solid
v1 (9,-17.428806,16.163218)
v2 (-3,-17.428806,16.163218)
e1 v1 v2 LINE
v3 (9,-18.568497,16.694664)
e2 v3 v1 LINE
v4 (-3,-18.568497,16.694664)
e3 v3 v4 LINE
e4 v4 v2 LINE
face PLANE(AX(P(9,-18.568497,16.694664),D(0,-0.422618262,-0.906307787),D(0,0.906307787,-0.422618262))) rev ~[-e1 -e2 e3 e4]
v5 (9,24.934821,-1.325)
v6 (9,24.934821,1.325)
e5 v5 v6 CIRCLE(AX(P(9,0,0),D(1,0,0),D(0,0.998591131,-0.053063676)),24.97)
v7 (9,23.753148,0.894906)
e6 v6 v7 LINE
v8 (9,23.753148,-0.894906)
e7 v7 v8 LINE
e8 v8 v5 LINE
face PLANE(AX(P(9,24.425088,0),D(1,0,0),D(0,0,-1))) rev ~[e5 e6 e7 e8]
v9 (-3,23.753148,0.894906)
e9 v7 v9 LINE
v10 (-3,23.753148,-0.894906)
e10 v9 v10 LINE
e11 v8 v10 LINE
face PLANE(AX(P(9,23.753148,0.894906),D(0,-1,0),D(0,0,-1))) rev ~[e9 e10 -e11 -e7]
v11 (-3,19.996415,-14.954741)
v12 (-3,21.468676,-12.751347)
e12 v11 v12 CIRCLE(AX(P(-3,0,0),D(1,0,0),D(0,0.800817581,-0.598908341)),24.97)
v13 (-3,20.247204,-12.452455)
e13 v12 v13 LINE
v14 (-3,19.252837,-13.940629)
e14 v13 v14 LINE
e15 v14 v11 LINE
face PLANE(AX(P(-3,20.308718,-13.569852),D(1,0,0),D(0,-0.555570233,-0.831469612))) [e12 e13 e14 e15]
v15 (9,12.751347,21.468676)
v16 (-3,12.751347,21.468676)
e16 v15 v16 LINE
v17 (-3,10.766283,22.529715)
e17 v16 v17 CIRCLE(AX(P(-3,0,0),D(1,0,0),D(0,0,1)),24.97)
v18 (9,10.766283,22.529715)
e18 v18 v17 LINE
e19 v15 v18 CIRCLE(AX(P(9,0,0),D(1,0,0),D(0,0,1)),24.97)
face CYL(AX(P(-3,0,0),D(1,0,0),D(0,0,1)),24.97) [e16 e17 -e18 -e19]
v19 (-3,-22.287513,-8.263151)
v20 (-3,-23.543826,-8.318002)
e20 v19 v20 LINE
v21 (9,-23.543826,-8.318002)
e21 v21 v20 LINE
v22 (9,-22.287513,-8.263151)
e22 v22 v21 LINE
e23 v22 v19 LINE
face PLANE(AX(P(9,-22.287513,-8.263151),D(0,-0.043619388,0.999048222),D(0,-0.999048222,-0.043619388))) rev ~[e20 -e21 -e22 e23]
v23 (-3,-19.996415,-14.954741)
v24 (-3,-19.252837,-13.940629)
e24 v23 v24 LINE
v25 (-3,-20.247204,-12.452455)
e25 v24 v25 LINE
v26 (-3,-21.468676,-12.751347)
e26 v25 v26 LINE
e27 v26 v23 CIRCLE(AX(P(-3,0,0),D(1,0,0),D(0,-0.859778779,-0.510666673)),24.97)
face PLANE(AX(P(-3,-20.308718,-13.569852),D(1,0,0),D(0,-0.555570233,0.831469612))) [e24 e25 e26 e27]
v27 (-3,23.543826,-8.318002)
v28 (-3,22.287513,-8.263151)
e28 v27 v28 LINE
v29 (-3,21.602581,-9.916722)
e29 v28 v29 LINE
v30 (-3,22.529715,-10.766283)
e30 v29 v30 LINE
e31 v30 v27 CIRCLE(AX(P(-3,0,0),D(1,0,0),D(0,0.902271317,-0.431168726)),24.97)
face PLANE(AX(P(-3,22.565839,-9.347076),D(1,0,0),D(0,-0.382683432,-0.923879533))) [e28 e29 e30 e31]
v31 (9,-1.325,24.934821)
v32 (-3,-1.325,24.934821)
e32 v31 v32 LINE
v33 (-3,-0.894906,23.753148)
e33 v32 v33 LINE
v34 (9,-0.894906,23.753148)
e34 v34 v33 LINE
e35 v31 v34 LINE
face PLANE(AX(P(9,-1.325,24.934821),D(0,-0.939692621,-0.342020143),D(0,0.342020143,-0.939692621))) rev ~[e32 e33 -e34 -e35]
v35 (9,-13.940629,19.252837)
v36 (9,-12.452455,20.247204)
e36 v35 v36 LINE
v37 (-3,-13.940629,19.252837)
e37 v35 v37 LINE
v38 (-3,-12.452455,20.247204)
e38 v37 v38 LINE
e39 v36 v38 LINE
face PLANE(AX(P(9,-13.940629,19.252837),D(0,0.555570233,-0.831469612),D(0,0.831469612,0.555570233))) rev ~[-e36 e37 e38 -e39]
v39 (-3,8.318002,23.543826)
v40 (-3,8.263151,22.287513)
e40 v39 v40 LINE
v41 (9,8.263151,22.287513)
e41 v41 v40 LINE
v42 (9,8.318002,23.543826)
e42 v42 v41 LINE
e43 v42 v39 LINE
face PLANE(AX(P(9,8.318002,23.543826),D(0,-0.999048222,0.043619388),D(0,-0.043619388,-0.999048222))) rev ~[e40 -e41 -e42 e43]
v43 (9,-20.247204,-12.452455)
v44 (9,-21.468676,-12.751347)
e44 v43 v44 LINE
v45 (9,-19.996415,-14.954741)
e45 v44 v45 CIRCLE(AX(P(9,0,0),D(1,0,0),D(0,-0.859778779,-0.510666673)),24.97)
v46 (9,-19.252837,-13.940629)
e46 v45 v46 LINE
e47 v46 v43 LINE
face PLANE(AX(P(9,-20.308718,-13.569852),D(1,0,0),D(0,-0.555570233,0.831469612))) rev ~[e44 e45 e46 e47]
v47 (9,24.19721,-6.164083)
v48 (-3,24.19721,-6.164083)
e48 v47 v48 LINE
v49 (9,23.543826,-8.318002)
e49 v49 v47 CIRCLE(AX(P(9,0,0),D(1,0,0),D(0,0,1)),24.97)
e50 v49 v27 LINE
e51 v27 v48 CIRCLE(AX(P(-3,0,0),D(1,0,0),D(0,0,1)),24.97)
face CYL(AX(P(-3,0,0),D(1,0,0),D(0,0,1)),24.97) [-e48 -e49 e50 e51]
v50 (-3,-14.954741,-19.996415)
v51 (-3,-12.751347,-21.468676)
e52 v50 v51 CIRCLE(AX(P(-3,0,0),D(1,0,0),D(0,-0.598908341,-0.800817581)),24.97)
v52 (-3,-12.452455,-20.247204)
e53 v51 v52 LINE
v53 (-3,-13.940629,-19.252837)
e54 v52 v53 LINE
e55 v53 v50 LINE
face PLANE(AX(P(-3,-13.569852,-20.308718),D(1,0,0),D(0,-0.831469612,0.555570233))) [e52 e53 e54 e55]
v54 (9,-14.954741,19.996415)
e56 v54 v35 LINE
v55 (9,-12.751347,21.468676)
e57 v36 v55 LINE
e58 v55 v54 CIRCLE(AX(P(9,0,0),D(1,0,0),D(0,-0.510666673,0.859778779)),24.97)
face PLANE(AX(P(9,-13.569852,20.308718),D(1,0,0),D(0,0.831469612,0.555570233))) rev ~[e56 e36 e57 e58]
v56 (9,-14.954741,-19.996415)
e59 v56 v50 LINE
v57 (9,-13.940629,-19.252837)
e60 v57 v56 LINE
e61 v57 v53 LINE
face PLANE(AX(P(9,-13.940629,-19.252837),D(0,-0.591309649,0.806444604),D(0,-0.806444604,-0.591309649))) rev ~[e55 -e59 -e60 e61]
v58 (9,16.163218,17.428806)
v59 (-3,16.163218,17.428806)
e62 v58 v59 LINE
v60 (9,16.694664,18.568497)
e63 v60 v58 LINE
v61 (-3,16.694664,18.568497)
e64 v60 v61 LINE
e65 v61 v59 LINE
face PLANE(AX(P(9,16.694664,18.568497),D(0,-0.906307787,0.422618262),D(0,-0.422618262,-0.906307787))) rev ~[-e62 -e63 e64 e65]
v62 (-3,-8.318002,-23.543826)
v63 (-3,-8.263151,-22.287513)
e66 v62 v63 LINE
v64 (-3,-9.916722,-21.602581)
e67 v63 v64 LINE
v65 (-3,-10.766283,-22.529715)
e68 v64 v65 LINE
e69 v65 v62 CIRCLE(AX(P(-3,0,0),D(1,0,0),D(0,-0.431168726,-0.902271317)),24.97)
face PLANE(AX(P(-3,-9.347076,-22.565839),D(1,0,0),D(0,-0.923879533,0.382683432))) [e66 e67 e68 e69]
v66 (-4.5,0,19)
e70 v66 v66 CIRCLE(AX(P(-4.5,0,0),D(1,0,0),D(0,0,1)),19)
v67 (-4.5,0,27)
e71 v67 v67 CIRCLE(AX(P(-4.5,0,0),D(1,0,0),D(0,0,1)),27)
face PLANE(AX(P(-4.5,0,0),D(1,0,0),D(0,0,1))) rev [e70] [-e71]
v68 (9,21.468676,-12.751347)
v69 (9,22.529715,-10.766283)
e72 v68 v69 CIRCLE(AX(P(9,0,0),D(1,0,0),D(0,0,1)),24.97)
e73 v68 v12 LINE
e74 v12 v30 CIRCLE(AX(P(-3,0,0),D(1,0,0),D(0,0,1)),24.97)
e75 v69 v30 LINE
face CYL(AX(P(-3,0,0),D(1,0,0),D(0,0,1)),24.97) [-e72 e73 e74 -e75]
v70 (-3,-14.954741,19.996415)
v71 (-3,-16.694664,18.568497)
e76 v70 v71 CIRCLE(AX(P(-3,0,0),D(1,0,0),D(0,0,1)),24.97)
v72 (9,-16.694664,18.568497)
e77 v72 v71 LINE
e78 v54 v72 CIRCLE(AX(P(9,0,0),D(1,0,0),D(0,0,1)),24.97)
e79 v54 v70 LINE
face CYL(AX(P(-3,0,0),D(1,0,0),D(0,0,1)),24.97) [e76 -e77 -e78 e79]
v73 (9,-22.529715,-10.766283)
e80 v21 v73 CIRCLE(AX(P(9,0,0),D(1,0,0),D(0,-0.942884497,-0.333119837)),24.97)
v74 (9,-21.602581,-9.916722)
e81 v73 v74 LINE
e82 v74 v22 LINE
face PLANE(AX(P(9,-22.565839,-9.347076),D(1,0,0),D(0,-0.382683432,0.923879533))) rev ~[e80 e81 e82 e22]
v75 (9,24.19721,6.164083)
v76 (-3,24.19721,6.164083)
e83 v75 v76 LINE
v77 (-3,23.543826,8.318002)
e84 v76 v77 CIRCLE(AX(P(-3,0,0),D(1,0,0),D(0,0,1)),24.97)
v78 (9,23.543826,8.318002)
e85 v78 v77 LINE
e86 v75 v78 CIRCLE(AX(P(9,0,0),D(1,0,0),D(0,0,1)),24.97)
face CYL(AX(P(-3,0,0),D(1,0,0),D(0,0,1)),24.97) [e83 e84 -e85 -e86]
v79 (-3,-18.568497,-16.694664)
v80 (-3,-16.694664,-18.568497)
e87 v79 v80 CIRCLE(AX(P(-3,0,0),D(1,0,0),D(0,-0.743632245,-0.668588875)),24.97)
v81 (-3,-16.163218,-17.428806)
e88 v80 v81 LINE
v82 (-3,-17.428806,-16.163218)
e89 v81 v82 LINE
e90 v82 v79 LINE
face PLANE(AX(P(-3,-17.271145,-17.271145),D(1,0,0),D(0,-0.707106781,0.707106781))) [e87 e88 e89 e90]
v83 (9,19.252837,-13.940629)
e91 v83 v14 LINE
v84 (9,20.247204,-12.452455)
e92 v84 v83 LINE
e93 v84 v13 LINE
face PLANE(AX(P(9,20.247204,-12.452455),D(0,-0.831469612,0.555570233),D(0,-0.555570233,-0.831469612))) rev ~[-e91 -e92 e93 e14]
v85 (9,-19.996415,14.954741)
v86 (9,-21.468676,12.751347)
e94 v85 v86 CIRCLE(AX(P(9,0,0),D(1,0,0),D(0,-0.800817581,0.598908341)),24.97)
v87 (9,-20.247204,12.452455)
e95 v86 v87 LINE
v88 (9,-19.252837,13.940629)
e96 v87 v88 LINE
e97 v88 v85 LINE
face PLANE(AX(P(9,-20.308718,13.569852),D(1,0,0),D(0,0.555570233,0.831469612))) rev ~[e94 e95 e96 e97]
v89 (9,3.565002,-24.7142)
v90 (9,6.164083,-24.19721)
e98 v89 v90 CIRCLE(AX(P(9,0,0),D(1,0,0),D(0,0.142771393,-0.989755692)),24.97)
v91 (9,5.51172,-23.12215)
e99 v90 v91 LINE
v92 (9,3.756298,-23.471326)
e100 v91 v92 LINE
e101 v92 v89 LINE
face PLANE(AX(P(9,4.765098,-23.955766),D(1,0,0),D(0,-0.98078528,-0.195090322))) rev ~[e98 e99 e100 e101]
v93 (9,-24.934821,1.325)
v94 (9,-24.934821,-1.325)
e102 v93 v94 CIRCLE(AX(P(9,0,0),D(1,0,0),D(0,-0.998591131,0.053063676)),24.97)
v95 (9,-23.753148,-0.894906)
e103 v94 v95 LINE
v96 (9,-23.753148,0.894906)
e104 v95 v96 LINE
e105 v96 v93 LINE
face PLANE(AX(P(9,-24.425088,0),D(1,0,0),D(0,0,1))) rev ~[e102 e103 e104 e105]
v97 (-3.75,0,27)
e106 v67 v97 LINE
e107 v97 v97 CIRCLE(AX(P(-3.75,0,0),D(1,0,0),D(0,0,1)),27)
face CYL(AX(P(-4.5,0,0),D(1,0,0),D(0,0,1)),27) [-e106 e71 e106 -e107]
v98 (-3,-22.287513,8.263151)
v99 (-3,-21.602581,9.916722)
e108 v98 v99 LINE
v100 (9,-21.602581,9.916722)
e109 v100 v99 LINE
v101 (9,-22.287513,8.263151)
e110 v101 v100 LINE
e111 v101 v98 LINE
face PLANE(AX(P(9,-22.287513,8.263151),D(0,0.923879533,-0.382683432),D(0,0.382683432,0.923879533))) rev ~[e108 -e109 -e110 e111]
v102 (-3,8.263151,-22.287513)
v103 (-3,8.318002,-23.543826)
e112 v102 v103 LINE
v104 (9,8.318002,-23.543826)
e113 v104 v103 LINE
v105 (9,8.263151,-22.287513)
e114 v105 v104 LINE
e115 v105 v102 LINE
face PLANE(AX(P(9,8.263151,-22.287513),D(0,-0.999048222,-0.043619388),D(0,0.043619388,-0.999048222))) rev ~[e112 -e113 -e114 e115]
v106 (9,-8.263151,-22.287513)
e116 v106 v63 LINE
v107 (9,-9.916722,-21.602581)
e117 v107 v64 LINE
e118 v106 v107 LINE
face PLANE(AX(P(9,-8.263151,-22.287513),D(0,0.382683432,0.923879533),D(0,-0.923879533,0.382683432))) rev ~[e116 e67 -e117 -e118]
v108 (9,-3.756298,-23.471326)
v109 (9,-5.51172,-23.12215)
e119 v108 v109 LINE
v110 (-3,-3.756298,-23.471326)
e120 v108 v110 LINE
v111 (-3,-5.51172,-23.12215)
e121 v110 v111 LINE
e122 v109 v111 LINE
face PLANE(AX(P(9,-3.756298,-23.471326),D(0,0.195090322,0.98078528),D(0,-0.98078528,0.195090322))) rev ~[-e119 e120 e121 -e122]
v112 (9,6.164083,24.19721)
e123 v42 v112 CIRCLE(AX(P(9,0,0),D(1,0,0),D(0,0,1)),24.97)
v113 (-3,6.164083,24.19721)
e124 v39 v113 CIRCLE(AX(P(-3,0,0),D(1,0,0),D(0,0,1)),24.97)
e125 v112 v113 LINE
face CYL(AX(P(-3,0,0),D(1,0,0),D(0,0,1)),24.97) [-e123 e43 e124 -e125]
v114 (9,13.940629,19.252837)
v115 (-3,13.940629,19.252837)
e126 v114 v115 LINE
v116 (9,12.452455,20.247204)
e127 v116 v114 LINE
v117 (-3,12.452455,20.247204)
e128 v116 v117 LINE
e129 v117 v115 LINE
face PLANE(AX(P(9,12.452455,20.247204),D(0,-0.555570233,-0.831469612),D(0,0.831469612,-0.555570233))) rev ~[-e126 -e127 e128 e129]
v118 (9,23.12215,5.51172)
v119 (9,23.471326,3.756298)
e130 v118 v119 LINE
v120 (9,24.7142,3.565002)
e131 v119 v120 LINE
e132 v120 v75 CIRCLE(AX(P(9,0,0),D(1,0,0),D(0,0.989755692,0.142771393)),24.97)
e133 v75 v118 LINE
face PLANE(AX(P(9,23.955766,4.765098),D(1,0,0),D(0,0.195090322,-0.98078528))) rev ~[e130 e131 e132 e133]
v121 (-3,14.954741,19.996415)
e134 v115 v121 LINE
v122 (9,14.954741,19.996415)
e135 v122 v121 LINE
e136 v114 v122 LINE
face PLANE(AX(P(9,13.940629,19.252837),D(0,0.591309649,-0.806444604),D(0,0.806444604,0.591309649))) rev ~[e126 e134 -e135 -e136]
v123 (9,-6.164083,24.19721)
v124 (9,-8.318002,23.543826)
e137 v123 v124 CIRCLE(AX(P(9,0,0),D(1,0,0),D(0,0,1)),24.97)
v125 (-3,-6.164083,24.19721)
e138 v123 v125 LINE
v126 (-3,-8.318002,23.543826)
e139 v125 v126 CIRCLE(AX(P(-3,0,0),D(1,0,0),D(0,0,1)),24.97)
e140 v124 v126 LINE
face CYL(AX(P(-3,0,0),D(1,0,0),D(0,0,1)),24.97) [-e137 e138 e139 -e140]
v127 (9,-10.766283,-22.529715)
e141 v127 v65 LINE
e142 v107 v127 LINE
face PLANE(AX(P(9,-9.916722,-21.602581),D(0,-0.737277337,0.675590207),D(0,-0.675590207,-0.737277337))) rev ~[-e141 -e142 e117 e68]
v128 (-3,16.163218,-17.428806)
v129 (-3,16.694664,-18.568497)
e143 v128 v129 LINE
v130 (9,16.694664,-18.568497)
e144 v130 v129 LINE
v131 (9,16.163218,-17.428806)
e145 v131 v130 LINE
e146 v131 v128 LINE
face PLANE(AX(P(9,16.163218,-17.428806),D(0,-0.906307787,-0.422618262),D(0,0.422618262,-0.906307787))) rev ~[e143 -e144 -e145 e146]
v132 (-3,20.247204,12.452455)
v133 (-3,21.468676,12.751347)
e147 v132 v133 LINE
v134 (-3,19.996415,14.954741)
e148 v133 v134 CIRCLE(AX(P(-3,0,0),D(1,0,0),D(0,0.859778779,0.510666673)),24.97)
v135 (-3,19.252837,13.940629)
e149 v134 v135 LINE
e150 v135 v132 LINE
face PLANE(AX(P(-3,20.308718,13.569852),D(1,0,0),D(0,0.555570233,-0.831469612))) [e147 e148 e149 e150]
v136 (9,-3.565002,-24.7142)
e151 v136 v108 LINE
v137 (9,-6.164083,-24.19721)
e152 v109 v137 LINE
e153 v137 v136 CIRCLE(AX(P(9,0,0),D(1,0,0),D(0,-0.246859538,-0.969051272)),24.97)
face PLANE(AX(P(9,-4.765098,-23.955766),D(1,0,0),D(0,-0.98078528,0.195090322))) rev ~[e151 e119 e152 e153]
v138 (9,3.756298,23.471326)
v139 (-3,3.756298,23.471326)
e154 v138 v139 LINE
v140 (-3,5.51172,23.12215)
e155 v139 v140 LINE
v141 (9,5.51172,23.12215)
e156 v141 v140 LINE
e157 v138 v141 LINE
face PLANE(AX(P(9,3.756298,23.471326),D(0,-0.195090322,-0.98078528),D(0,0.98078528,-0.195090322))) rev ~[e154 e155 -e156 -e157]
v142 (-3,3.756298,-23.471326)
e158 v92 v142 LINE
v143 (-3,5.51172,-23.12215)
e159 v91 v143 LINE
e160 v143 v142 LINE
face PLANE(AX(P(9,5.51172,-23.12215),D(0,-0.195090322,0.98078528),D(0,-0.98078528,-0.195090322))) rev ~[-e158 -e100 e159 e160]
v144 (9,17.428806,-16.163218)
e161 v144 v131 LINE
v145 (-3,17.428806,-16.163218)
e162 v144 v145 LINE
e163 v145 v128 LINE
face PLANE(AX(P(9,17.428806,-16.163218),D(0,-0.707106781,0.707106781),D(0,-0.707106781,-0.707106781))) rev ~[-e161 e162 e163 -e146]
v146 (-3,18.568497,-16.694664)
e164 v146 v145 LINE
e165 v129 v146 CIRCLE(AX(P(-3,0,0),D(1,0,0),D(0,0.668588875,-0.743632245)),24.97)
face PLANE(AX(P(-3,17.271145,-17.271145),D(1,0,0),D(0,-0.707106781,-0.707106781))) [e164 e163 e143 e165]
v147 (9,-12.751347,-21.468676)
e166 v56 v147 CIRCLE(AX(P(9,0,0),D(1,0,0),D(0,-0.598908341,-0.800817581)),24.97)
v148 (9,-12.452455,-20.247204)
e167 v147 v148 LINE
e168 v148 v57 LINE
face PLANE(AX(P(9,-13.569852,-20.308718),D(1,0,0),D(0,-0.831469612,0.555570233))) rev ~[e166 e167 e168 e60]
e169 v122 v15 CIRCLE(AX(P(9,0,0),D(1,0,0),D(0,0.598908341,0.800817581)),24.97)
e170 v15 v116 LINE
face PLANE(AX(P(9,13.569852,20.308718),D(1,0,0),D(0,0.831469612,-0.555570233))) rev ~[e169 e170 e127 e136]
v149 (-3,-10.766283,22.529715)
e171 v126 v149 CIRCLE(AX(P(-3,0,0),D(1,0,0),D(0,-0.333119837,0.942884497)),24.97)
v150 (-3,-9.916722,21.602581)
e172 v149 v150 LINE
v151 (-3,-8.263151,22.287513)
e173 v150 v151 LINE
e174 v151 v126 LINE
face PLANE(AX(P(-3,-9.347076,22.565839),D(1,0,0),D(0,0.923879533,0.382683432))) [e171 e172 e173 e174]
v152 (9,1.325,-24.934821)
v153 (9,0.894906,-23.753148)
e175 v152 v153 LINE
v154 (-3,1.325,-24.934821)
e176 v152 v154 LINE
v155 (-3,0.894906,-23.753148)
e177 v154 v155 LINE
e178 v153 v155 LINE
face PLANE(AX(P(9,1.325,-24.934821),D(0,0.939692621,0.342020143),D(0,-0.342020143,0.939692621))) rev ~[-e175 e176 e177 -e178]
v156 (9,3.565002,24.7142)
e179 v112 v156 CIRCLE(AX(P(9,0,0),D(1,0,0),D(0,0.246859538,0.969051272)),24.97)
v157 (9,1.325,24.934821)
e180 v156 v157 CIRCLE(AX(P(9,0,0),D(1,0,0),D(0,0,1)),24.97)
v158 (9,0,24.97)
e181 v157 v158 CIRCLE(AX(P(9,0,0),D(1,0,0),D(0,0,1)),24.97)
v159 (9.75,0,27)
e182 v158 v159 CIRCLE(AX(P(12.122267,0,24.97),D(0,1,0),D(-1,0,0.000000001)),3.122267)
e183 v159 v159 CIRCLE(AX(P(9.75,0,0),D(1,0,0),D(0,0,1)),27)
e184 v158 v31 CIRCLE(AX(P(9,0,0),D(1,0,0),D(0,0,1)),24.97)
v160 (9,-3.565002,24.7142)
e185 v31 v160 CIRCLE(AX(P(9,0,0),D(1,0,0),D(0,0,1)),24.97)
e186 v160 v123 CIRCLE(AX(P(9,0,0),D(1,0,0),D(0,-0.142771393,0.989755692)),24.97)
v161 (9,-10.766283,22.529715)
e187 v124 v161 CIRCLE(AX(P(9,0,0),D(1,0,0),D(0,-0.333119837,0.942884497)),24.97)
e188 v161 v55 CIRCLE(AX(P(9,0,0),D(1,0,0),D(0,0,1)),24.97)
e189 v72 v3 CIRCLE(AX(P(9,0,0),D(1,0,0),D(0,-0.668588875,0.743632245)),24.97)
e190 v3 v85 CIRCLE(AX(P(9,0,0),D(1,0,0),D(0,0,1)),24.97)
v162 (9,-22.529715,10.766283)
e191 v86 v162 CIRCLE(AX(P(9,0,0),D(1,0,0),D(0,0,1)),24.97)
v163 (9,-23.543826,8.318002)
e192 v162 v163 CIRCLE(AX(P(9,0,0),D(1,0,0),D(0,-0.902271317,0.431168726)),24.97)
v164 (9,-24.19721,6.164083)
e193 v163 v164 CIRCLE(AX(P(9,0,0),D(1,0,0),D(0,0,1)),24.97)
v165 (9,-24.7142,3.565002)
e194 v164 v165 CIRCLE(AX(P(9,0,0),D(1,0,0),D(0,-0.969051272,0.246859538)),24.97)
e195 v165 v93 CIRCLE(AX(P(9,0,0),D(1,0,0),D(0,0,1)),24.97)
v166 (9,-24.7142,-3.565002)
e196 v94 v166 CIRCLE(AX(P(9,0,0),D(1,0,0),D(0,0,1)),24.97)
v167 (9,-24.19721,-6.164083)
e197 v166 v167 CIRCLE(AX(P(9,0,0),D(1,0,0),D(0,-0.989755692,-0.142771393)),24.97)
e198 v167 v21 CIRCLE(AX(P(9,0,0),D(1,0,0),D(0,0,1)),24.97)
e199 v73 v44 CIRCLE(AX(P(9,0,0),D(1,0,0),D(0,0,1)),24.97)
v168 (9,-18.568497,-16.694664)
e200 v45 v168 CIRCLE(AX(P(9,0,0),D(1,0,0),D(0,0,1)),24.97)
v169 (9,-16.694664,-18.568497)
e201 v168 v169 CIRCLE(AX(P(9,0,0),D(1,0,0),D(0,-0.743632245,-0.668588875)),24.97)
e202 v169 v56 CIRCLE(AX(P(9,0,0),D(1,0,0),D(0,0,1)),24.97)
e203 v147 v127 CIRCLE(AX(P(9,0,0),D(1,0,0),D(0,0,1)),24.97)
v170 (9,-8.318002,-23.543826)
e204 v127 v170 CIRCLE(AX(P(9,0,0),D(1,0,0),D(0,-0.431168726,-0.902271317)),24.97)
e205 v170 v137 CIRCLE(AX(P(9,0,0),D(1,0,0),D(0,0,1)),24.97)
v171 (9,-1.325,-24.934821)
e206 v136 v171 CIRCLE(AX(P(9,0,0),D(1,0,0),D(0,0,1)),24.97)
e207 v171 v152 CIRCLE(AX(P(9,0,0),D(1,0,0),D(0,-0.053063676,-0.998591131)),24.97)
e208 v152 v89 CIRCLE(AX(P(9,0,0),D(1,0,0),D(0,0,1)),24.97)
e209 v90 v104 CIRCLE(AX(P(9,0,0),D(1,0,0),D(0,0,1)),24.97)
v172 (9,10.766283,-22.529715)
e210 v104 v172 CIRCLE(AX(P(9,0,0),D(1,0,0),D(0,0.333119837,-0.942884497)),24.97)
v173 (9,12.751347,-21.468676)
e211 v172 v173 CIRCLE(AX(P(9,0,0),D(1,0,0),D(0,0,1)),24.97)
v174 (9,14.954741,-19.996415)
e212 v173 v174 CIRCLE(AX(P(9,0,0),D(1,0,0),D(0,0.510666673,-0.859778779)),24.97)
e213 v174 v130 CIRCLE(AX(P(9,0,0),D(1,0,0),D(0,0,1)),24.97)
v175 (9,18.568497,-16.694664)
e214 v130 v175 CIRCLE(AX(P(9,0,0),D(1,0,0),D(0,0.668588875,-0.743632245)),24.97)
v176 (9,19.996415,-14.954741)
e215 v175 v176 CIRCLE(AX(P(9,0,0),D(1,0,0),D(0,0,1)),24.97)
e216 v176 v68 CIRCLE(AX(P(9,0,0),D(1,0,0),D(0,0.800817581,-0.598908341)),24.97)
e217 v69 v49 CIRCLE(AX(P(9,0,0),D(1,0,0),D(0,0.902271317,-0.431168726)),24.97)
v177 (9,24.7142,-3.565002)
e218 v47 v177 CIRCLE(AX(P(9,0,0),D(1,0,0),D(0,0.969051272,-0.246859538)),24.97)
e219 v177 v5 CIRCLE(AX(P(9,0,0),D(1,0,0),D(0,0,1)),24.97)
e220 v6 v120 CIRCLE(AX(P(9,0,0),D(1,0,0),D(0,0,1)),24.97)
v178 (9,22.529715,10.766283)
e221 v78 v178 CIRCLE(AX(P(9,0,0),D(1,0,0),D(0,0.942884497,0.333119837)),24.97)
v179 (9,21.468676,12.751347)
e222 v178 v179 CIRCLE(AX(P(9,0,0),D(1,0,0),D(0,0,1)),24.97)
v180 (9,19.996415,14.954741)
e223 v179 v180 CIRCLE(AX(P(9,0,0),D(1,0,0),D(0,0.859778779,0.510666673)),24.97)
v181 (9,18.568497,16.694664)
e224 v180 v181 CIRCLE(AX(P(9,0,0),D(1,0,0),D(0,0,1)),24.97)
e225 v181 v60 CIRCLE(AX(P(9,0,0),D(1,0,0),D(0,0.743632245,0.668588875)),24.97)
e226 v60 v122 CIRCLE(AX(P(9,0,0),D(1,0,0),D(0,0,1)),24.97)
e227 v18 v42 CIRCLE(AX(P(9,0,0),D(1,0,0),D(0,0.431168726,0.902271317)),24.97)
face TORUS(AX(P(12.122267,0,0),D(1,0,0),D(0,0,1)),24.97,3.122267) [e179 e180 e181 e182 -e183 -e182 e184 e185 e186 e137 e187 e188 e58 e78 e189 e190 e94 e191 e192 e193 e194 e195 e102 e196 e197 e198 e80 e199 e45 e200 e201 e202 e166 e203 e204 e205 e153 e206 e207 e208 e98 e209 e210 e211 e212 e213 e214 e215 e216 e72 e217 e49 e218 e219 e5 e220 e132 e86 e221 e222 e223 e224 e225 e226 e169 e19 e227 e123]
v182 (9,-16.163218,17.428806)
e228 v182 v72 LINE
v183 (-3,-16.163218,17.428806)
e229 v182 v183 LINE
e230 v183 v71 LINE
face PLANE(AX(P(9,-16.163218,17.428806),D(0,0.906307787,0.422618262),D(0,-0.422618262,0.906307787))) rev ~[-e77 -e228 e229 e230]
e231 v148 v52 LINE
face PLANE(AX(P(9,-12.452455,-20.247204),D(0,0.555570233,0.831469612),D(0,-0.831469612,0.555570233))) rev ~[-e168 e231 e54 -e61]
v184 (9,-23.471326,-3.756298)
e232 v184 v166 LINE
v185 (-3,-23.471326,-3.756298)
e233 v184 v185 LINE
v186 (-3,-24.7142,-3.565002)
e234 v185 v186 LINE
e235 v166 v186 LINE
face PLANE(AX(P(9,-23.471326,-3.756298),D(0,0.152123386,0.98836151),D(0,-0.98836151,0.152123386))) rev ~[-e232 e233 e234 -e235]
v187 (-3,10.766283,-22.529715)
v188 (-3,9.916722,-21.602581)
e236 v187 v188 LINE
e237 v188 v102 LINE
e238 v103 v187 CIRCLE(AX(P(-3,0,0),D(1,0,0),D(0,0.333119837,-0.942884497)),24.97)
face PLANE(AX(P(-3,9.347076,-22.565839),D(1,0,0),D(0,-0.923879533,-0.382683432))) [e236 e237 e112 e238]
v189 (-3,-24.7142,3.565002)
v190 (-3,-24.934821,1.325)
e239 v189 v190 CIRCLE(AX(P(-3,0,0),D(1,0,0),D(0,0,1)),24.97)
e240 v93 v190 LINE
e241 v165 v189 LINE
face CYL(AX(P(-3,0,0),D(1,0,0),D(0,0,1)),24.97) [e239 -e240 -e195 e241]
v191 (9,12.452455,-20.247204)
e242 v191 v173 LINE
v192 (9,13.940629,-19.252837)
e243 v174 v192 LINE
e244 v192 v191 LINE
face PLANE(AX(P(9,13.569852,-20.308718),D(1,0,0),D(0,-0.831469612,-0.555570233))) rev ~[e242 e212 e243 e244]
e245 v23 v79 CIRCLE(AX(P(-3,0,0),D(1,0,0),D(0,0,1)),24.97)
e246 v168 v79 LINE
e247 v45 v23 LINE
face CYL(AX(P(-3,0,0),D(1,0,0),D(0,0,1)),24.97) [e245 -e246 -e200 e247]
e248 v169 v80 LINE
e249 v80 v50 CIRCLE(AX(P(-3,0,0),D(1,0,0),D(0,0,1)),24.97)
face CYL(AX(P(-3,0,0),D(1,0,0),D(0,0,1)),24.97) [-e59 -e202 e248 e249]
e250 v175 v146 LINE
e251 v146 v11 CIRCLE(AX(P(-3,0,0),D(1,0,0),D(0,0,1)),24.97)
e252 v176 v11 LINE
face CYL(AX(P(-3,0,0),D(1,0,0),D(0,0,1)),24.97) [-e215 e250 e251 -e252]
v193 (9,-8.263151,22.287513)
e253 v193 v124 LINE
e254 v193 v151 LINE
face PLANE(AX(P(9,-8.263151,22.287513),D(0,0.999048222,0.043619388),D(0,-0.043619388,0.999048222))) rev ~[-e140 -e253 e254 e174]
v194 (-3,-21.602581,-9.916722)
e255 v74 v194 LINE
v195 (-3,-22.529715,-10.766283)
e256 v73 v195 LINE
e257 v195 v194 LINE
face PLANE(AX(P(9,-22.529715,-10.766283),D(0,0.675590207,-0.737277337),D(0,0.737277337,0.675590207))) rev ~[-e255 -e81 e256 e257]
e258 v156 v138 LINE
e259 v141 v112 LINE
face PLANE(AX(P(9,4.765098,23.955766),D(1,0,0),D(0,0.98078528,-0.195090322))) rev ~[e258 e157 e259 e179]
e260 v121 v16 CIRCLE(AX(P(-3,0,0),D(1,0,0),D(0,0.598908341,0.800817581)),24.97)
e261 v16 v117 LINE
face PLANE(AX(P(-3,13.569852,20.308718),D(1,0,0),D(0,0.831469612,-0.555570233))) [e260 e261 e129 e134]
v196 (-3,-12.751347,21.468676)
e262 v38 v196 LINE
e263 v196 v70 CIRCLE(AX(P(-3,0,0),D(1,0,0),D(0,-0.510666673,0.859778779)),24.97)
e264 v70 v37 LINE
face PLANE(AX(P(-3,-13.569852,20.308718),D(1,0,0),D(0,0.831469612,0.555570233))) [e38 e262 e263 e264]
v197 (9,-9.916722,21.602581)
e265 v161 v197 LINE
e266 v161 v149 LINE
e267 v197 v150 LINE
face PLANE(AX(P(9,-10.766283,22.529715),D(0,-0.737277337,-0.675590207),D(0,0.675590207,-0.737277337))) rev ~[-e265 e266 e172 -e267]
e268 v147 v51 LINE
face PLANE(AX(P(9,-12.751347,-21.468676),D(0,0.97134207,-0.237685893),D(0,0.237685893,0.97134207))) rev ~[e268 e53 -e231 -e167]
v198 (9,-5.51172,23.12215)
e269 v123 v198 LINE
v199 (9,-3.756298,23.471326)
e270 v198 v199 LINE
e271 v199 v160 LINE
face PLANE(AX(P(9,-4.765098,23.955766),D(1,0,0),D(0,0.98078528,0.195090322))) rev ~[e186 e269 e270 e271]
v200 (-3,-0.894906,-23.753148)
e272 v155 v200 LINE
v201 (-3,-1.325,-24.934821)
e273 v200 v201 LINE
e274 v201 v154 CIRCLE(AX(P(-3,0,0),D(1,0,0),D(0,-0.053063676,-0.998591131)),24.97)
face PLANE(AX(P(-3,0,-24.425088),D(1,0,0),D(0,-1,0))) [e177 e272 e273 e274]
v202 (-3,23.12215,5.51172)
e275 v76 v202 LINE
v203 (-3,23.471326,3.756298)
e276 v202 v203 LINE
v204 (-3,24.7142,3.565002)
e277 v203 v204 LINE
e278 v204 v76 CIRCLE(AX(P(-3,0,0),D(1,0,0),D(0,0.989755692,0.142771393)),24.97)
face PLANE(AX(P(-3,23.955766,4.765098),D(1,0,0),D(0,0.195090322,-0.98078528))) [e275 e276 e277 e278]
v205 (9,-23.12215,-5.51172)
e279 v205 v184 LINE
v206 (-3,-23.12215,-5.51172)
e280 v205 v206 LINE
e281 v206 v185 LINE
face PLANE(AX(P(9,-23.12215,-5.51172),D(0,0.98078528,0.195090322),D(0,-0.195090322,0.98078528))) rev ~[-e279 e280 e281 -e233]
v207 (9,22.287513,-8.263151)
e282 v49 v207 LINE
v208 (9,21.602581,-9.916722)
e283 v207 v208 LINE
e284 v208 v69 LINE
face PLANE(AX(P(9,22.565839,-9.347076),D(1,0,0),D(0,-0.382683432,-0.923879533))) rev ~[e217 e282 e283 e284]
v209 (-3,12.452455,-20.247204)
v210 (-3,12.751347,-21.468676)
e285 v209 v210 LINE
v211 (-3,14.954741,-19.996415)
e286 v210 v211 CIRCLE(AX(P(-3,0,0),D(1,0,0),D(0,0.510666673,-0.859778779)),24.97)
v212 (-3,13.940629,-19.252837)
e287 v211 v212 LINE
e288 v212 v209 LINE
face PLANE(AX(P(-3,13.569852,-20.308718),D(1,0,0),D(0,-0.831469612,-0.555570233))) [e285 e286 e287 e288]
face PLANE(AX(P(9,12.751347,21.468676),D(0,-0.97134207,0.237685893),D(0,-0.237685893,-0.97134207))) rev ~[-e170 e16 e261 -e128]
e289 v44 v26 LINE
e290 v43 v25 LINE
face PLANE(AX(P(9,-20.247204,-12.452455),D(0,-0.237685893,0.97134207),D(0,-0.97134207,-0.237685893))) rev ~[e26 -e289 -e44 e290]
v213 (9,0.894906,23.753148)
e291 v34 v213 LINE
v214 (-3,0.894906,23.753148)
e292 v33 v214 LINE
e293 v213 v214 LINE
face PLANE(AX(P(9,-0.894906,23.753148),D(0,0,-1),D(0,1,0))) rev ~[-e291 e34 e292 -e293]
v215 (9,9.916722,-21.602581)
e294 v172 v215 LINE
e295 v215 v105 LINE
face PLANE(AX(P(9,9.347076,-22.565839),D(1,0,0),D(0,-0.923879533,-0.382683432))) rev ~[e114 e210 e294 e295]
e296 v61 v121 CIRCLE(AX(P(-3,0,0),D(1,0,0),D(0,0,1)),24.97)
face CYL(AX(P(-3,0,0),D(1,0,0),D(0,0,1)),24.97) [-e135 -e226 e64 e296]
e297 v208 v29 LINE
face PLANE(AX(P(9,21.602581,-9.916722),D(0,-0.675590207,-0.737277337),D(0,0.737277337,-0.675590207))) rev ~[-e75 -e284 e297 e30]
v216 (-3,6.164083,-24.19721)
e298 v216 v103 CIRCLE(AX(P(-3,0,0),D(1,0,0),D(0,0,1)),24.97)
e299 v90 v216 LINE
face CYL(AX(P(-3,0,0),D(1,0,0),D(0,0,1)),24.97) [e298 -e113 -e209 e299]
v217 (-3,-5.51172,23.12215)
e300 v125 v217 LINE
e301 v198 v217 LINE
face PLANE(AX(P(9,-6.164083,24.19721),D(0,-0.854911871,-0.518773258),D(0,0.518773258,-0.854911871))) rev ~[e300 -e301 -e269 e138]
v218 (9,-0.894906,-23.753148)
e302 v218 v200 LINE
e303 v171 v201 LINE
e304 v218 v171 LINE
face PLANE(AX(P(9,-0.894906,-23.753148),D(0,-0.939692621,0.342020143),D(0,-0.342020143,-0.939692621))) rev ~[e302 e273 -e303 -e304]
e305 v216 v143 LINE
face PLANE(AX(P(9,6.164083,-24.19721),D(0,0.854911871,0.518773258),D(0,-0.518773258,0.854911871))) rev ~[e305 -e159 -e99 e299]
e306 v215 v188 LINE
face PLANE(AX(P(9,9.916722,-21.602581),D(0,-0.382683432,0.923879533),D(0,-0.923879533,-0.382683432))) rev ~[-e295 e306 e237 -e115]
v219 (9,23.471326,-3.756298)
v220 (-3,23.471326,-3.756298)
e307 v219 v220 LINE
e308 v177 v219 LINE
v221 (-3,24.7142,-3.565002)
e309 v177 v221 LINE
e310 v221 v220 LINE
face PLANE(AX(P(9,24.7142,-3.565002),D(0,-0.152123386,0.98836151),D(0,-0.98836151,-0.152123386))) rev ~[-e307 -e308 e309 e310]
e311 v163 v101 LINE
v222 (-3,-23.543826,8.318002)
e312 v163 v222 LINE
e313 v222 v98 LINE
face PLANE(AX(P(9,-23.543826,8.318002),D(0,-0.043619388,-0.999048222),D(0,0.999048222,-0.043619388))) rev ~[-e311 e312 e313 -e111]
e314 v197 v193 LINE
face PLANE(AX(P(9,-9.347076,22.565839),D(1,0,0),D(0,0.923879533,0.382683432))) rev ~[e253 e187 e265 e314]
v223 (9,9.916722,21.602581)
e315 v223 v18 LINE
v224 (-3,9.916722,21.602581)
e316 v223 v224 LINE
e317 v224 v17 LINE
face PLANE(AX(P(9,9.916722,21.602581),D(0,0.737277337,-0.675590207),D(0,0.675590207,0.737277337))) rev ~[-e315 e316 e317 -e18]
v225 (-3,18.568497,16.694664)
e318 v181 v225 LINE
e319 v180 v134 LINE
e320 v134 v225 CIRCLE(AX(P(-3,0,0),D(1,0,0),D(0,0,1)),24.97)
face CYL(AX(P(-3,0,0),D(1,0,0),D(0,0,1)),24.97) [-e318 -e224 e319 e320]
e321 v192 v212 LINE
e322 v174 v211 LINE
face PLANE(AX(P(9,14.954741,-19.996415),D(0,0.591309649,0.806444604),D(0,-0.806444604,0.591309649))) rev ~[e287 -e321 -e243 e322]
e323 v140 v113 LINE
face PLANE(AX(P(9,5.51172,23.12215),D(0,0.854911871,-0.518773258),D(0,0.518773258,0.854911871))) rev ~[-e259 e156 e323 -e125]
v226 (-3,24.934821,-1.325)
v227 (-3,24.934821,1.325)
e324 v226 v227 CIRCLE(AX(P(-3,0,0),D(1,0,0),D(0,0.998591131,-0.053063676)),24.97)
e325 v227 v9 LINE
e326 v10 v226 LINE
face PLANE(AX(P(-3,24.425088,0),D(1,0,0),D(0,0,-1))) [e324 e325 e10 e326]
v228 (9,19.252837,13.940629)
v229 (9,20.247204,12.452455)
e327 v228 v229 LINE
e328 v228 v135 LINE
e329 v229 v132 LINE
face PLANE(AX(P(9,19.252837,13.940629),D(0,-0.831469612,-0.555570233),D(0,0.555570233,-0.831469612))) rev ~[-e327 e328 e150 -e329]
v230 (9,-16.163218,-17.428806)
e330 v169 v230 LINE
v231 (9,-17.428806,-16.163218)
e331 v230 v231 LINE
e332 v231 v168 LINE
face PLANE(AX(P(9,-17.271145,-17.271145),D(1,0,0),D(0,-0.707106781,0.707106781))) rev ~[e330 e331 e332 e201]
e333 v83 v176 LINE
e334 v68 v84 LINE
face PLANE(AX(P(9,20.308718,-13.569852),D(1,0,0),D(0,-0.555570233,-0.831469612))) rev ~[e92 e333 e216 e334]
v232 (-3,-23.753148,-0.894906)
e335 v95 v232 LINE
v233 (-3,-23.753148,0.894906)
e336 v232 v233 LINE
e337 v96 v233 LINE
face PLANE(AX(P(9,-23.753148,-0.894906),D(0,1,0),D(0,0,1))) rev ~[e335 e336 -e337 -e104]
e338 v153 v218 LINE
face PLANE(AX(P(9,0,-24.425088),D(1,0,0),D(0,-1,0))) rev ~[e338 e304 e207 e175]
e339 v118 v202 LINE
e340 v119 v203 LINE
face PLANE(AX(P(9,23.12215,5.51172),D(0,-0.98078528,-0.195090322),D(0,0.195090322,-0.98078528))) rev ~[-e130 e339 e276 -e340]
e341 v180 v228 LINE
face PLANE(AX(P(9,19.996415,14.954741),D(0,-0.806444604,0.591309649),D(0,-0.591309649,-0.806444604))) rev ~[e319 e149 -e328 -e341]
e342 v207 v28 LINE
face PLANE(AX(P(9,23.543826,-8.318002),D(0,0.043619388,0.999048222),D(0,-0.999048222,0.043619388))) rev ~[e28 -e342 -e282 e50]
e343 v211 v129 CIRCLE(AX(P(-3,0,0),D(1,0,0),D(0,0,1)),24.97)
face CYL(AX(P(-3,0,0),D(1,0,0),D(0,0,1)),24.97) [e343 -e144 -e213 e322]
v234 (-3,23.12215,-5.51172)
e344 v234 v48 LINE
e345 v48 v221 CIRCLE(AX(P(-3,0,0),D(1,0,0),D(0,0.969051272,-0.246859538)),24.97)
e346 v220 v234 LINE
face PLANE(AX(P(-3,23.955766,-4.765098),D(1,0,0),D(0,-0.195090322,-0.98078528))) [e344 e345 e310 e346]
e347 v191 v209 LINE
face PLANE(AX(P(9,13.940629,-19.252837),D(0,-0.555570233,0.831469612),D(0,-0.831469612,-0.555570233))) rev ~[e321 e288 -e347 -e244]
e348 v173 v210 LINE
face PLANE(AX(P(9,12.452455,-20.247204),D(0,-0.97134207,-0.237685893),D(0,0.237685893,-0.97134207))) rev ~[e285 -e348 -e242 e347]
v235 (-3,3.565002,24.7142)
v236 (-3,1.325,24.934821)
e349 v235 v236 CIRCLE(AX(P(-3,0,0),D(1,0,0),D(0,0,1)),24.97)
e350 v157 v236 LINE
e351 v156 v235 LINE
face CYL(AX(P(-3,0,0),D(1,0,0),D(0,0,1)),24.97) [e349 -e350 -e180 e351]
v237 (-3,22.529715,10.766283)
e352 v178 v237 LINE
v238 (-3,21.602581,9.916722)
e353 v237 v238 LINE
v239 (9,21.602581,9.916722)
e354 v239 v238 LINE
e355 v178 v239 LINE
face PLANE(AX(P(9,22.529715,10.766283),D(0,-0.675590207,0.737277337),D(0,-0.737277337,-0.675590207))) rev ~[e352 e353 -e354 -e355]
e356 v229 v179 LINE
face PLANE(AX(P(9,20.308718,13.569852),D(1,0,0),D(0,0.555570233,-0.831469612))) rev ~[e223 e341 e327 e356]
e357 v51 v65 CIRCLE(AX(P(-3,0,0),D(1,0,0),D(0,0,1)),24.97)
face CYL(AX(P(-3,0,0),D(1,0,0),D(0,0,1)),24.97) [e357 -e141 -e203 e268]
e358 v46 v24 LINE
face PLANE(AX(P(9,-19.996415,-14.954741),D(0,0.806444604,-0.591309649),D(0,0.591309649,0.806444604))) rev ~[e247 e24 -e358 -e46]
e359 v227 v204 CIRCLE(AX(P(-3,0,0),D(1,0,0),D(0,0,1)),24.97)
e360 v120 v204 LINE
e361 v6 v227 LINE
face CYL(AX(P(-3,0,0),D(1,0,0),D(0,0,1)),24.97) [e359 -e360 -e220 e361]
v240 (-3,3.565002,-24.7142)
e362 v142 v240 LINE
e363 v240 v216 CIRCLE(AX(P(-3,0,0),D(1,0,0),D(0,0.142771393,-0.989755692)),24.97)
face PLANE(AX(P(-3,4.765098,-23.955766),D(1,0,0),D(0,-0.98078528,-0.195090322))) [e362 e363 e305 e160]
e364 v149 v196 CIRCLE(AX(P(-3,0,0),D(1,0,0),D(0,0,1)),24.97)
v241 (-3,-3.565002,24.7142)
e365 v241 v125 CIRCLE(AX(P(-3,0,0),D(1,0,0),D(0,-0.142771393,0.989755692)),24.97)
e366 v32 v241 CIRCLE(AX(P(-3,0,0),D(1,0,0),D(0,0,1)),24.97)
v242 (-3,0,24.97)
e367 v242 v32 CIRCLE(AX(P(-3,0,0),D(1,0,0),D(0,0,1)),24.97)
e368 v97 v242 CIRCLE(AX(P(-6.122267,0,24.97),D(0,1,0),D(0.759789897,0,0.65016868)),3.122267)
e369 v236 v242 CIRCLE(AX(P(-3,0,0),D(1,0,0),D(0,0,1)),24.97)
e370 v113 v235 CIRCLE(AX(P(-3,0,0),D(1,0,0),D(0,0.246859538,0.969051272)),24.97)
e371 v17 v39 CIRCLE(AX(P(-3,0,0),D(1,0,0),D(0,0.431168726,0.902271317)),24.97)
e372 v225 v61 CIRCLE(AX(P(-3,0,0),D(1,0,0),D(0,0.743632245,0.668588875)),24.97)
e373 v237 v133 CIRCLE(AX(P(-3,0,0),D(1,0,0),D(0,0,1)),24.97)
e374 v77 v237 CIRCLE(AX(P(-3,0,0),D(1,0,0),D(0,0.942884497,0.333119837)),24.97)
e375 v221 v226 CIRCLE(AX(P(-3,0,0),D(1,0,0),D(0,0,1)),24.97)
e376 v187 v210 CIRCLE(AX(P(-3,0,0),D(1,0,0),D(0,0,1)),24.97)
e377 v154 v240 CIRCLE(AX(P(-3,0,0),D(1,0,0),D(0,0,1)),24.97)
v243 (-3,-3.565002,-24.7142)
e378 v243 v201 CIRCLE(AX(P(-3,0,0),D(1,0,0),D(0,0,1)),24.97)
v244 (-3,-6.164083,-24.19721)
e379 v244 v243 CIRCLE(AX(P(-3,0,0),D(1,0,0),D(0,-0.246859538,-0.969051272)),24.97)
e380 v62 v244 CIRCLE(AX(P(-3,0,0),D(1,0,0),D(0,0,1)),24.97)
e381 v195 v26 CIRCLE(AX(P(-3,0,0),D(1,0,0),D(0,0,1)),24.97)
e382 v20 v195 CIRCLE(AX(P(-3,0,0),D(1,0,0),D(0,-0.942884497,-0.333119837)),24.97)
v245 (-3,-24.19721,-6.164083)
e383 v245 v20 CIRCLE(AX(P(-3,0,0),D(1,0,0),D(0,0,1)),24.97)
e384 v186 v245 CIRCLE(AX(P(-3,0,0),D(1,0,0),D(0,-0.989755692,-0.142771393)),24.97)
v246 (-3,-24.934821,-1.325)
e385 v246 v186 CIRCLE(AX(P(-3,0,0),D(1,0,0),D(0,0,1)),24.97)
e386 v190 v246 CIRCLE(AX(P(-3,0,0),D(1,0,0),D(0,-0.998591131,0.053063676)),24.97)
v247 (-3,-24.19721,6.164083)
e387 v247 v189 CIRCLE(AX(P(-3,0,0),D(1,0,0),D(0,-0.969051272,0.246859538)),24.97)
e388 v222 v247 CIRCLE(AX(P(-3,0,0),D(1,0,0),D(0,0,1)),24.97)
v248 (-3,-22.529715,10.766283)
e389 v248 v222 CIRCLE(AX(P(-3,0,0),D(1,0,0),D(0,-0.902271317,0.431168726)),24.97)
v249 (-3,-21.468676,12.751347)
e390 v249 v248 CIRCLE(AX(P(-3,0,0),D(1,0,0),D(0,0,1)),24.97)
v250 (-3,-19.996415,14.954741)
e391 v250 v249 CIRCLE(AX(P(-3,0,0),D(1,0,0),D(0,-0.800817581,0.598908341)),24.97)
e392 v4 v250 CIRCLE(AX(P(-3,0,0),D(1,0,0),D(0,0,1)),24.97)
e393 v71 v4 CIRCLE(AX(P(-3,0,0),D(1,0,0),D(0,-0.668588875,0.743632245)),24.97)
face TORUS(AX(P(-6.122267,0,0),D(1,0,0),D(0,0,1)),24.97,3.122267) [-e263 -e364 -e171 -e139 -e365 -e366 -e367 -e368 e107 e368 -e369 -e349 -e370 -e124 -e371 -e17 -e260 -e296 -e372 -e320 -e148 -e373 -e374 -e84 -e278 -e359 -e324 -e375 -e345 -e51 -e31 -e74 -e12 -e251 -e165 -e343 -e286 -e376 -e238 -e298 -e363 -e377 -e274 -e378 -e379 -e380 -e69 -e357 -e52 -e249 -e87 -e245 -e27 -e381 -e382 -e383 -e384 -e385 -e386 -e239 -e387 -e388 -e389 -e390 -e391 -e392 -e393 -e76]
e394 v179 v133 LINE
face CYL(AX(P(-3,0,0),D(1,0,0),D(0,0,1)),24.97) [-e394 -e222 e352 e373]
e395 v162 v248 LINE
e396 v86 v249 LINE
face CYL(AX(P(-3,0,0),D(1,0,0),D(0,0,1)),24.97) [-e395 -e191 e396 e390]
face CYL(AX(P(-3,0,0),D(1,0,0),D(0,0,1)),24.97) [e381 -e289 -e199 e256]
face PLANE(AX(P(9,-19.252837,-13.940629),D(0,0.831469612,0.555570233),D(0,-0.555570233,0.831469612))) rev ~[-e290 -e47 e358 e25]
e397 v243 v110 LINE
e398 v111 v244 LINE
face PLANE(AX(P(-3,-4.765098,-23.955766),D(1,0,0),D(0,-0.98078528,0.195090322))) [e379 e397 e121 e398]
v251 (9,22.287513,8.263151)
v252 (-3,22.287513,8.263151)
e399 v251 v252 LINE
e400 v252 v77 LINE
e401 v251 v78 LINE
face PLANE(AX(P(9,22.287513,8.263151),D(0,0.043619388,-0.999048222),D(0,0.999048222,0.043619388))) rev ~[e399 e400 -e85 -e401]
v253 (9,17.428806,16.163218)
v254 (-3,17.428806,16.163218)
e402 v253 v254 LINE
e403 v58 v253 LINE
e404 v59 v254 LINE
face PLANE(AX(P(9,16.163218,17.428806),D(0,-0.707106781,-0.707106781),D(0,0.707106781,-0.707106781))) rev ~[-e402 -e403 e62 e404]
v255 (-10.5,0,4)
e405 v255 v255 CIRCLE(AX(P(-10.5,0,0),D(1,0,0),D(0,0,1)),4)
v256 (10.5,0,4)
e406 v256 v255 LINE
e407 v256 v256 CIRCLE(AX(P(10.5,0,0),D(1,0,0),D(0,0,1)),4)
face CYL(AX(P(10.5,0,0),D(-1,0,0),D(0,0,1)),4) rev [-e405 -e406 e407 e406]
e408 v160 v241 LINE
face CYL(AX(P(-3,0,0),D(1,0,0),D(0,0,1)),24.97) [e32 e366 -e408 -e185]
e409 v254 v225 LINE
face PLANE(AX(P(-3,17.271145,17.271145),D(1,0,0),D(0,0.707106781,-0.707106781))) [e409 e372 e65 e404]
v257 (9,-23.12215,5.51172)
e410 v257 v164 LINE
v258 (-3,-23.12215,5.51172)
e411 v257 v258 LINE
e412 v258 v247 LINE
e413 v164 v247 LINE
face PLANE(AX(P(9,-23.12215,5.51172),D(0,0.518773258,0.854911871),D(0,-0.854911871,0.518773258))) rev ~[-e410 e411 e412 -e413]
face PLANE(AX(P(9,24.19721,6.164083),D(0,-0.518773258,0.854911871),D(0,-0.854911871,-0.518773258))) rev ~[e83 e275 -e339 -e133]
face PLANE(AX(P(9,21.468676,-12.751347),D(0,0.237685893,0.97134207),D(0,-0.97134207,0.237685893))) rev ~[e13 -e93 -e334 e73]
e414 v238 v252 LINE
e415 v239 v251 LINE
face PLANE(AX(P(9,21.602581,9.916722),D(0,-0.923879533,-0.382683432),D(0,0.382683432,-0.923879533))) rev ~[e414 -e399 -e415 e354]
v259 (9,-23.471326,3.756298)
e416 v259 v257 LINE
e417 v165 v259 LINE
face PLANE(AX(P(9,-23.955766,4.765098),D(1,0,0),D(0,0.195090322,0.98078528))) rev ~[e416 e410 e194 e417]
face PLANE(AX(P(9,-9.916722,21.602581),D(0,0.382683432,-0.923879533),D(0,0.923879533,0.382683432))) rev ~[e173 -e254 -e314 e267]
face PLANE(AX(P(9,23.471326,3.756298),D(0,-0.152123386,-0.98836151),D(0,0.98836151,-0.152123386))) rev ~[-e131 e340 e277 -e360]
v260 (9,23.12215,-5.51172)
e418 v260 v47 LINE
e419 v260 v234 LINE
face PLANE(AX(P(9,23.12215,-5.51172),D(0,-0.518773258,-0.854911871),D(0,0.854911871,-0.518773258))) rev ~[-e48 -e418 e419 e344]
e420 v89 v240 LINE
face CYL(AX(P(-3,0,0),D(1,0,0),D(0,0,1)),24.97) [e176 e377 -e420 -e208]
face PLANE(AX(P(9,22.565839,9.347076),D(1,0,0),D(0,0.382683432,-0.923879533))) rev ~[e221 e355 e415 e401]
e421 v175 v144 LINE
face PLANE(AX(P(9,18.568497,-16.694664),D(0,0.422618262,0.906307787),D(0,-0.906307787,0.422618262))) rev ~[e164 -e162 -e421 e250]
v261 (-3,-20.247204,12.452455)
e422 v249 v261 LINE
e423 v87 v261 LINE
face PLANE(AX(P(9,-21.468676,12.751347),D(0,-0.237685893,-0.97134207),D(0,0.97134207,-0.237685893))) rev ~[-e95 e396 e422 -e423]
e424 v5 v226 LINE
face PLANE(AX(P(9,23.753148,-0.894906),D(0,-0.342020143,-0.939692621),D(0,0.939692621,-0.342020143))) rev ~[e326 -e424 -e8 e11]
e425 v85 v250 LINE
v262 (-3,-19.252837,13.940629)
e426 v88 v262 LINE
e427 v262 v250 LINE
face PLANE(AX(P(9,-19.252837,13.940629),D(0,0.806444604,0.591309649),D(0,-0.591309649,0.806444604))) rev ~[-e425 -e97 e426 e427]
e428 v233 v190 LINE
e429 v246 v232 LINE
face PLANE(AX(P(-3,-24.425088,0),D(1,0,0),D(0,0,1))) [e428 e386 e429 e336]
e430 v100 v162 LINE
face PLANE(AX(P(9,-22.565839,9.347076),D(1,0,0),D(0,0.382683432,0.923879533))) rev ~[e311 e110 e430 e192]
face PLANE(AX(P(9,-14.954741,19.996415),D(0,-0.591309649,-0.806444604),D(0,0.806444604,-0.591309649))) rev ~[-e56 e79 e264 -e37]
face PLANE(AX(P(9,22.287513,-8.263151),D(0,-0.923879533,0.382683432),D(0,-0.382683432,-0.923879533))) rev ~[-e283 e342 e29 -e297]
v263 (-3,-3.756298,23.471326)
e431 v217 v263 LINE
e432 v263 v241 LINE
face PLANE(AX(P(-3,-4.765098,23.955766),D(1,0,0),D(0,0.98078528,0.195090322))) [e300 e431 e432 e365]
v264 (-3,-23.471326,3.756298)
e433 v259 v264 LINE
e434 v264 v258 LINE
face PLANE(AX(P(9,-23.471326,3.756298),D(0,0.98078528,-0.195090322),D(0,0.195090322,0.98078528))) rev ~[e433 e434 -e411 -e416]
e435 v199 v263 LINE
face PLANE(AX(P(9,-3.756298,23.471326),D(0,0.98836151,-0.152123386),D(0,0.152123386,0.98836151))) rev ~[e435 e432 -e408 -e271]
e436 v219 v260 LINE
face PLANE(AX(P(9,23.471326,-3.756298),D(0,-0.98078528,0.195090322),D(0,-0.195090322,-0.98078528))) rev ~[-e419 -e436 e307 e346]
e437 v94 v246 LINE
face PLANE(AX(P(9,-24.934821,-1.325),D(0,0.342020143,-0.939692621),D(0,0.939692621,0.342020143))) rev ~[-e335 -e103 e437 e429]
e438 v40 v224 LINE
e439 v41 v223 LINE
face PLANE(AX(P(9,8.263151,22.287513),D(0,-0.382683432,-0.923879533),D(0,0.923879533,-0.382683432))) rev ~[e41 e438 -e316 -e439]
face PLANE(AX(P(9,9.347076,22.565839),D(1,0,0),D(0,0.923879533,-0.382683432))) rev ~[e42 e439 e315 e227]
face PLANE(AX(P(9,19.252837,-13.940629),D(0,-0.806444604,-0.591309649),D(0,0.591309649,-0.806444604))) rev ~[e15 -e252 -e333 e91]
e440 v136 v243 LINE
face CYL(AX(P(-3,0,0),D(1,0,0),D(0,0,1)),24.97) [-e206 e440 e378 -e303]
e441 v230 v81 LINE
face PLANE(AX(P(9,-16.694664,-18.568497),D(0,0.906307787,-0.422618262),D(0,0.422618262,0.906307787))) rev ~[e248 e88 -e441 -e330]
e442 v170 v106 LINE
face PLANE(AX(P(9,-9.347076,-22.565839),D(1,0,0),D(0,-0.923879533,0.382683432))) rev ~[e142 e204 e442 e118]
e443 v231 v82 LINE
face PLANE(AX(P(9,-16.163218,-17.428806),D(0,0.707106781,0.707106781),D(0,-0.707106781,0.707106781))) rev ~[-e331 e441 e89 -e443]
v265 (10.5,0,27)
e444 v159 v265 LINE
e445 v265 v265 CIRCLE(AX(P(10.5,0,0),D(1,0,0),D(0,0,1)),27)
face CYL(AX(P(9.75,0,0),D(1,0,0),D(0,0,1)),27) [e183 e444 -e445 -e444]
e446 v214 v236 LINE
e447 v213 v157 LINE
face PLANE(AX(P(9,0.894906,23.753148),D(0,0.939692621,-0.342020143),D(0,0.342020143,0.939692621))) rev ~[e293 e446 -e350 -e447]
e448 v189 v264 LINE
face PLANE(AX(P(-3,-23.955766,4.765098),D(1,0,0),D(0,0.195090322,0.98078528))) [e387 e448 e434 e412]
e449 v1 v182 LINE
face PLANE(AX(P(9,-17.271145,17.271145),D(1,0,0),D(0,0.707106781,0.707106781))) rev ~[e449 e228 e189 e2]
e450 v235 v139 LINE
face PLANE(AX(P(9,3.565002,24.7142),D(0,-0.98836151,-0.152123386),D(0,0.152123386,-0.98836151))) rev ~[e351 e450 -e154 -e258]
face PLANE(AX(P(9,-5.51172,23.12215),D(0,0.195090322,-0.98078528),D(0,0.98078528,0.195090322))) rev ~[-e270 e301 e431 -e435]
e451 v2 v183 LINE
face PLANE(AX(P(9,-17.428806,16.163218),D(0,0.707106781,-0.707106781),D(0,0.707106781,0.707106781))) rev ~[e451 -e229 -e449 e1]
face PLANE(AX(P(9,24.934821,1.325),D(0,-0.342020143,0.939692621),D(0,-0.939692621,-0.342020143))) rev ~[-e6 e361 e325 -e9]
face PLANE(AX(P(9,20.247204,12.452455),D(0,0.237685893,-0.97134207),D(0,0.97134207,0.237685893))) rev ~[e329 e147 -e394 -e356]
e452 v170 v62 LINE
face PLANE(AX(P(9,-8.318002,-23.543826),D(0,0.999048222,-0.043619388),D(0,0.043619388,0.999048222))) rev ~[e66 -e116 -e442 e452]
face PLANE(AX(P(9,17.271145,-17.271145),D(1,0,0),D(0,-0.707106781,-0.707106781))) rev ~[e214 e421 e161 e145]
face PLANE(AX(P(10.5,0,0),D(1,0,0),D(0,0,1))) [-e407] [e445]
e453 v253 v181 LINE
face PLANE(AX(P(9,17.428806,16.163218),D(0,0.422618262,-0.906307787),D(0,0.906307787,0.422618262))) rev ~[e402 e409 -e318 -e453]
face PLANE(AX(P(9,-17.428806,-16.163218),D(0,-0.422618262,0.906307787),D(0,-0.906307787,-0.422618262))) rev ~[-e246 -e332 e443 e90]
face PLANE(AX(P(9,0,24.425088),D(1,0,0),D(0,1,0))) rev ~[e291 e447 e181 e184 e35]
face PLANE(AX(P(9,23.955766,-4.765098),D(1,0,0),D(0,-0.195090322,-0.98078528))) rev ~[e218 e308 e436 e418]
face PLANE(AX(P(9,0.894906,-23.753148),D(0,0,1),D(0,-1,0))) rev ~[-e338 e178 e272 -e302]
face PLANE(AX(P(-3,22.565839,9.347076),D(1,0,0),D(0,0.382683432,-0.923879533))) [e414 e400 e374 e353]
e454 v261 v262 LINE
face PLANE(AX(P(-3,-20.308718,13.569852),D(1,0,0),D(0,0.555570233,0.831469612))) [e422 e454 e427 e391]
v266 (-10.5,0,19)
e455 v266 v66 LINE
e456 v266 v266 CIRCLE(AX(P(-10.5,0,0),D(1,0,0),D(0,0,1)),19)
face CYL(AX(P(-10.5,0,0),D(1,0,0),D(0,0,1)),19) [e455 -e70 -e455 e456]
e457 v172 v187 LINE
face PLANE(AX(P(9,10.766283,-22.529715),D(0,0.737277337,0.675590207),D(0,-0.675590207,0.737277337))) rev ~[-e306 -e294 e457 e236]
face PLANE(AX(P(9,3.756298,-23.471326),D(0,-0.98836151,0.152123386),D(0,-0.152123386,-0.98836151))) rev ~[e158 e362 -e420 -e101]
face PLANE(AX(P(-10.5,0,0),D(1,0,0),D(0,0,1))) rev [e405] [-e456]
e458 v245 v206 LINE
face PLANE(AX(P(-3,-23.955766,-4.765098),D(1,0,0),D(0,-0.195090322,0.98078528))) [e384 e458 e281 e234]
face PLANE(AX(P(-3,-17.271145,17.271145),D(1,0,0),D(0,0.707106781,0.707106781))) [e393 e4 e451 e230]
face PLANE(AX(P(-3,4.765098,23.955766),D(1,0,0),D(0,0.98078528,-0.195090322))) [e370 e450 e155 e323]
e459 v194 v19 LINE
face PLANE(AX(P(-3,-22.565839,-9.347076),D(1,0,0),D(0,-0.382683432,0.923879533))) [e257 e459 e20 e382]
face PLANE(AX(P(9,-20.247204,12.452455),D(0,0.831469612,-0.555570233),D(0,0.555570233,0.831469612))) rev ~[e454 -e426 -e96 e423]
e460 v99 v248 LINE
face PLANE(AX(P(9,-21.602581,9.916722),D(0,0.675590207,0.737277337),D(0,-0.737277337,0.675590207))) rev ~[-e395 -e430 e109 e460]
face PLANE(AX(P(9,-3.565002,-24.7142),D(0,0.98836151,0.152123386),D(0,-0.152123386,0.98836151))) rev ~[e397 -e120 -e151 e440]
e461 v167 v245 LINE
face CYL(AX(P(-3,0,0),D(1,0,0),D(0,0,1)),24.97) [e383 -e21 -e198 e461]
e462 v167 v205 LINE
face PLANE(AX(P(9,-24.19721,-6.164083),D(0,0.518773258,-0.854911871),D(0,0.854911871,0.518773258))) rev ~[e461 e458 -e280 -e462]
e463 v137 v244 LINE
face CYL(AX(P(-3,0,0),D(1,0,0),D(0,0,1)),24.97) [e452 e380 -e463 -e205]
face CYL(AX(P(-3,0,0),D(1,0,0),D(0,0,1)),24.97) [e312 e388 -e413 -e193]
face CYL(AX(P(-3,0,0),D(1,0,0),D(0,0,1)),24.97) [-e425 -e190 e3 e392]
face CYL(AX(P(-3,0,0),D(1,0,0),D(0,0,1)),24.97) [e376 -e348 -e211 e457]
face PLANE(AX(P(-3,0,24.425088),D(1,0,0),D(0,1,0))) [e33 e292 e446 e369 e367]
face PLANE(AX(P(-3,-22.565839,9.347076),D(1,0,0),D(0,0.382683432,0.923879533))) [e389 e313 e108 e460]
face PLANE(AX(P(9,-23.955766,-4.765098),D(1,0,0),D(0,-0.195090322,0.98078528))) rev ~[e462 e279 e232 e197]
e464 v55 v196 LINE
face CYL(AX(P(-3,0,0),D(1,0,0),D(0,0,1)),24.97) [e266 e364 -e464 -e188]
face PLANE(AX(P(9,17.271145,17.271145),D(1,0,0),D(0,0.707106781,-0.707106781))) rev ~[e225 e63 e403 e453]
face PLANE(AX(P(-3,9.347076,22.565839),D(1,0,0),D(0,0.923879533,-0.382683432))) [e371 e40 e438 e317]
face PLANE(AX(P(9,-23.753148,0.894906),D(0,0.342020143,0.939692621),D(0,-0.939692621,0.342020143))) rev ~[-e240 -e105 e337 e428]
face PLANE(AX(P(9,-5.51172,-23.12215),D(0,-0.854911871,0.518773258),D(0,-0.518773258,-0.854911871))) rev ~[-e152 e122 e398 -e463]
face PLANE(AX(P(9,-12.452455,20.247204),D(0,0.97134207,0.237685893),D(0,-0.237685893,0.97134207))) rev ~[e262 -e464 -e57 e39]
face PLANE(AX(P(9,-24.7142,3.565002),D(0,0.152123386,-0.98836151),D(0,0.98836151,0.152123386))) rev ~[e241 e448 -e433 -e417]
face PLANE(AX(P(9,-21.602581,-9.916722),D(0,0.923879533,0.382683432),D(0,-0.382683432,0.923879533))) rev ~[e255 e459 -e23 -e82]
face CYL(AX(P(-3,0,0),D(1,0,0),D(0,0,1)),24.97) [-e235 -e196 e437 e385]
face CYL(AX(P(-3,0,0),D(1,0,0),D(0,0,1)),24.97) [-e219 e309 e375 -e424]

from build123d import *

# Parameters (mm, degrees)
CUT_EXTRUDE1_START = 9
CUT_EXTRUDE1_DEPTH = 12
CIRPATTERN1_COUNT  = 32


with BuildPart() as part:
    # Sketch6 → Revolve1 (revolve)
    with BuildSketch(Plane.XY, mode=Mode.PRIVATE) as revolve1_sk:
        with BuildLine():
            Line((9.75, 27), (10.5, 27))
            Line((10.5, 27), (10.5, 4))
            Line((10.5, 4), (-10.5, 4))
            Line((-10.5, 4), (-10.5, 19))
            Line((-10.5, 19), (-4.5, 19))
            Line((-4.5, 19), (-4.5, 27))
            Line((-4.5, 27), (-3.75, 27))
            ThreePointArc((-3.75, 27), (-3.193495741, 26.052058224), (-3, 24.97))
            Line((-3, 24.97), (9, 24.97))
            ThreePointArc((9, 24.97), (9.193495741, 26.052058224), (9.75, 27))
        make_face()
    revolve(revolve1_sk.sketch.rotate(Axis((-10.5, 0, 0), (1, 0, 0)), 90), axis=Axis((-10.5, 0, 0), (1, 0, 0)))

    # Sketch3 → Cut-Extrude1 (cut)
    with BuildSketch(Plane(origin=(0, 0, 0), x_dir=(0, 0, -1), z_dir=(1, 0, 0)).offset(CUT_EXTRUDE1_START)):
        with BuildLine():
            Line((-1.325, 24.934820533), (-0.894906392, 23.753148056))
            Line((-0.894906392, 23.753148056), (0.894906392, 23.753148056))
            Line((0.894906392, 23.753148056), (1.325, 24.934820533))
            ThreePointArc((1.325, 24.934820533), (0, 24.97), (-1.325, 24.934820533))
        make_face()
    cut_extrude1 = extrude(amount=-CUT_EXTRUDE1_DEPTH, mode=Mode.SUBTRACT)

    # CirPattern1: Cut-Extrude1 ×32 about axis
    cirpattern1_axis = Axis((0, 0, 0), (1, 0, 0))
    for i in range(1, CIRPATTERN1_COUNT):
        add(cut_extrude1.rotate(cirpattern1_axis, i * 360 / CIRPATTERN1_COUNT), mode=Mode.SUBTRACT)


solid = part.part
